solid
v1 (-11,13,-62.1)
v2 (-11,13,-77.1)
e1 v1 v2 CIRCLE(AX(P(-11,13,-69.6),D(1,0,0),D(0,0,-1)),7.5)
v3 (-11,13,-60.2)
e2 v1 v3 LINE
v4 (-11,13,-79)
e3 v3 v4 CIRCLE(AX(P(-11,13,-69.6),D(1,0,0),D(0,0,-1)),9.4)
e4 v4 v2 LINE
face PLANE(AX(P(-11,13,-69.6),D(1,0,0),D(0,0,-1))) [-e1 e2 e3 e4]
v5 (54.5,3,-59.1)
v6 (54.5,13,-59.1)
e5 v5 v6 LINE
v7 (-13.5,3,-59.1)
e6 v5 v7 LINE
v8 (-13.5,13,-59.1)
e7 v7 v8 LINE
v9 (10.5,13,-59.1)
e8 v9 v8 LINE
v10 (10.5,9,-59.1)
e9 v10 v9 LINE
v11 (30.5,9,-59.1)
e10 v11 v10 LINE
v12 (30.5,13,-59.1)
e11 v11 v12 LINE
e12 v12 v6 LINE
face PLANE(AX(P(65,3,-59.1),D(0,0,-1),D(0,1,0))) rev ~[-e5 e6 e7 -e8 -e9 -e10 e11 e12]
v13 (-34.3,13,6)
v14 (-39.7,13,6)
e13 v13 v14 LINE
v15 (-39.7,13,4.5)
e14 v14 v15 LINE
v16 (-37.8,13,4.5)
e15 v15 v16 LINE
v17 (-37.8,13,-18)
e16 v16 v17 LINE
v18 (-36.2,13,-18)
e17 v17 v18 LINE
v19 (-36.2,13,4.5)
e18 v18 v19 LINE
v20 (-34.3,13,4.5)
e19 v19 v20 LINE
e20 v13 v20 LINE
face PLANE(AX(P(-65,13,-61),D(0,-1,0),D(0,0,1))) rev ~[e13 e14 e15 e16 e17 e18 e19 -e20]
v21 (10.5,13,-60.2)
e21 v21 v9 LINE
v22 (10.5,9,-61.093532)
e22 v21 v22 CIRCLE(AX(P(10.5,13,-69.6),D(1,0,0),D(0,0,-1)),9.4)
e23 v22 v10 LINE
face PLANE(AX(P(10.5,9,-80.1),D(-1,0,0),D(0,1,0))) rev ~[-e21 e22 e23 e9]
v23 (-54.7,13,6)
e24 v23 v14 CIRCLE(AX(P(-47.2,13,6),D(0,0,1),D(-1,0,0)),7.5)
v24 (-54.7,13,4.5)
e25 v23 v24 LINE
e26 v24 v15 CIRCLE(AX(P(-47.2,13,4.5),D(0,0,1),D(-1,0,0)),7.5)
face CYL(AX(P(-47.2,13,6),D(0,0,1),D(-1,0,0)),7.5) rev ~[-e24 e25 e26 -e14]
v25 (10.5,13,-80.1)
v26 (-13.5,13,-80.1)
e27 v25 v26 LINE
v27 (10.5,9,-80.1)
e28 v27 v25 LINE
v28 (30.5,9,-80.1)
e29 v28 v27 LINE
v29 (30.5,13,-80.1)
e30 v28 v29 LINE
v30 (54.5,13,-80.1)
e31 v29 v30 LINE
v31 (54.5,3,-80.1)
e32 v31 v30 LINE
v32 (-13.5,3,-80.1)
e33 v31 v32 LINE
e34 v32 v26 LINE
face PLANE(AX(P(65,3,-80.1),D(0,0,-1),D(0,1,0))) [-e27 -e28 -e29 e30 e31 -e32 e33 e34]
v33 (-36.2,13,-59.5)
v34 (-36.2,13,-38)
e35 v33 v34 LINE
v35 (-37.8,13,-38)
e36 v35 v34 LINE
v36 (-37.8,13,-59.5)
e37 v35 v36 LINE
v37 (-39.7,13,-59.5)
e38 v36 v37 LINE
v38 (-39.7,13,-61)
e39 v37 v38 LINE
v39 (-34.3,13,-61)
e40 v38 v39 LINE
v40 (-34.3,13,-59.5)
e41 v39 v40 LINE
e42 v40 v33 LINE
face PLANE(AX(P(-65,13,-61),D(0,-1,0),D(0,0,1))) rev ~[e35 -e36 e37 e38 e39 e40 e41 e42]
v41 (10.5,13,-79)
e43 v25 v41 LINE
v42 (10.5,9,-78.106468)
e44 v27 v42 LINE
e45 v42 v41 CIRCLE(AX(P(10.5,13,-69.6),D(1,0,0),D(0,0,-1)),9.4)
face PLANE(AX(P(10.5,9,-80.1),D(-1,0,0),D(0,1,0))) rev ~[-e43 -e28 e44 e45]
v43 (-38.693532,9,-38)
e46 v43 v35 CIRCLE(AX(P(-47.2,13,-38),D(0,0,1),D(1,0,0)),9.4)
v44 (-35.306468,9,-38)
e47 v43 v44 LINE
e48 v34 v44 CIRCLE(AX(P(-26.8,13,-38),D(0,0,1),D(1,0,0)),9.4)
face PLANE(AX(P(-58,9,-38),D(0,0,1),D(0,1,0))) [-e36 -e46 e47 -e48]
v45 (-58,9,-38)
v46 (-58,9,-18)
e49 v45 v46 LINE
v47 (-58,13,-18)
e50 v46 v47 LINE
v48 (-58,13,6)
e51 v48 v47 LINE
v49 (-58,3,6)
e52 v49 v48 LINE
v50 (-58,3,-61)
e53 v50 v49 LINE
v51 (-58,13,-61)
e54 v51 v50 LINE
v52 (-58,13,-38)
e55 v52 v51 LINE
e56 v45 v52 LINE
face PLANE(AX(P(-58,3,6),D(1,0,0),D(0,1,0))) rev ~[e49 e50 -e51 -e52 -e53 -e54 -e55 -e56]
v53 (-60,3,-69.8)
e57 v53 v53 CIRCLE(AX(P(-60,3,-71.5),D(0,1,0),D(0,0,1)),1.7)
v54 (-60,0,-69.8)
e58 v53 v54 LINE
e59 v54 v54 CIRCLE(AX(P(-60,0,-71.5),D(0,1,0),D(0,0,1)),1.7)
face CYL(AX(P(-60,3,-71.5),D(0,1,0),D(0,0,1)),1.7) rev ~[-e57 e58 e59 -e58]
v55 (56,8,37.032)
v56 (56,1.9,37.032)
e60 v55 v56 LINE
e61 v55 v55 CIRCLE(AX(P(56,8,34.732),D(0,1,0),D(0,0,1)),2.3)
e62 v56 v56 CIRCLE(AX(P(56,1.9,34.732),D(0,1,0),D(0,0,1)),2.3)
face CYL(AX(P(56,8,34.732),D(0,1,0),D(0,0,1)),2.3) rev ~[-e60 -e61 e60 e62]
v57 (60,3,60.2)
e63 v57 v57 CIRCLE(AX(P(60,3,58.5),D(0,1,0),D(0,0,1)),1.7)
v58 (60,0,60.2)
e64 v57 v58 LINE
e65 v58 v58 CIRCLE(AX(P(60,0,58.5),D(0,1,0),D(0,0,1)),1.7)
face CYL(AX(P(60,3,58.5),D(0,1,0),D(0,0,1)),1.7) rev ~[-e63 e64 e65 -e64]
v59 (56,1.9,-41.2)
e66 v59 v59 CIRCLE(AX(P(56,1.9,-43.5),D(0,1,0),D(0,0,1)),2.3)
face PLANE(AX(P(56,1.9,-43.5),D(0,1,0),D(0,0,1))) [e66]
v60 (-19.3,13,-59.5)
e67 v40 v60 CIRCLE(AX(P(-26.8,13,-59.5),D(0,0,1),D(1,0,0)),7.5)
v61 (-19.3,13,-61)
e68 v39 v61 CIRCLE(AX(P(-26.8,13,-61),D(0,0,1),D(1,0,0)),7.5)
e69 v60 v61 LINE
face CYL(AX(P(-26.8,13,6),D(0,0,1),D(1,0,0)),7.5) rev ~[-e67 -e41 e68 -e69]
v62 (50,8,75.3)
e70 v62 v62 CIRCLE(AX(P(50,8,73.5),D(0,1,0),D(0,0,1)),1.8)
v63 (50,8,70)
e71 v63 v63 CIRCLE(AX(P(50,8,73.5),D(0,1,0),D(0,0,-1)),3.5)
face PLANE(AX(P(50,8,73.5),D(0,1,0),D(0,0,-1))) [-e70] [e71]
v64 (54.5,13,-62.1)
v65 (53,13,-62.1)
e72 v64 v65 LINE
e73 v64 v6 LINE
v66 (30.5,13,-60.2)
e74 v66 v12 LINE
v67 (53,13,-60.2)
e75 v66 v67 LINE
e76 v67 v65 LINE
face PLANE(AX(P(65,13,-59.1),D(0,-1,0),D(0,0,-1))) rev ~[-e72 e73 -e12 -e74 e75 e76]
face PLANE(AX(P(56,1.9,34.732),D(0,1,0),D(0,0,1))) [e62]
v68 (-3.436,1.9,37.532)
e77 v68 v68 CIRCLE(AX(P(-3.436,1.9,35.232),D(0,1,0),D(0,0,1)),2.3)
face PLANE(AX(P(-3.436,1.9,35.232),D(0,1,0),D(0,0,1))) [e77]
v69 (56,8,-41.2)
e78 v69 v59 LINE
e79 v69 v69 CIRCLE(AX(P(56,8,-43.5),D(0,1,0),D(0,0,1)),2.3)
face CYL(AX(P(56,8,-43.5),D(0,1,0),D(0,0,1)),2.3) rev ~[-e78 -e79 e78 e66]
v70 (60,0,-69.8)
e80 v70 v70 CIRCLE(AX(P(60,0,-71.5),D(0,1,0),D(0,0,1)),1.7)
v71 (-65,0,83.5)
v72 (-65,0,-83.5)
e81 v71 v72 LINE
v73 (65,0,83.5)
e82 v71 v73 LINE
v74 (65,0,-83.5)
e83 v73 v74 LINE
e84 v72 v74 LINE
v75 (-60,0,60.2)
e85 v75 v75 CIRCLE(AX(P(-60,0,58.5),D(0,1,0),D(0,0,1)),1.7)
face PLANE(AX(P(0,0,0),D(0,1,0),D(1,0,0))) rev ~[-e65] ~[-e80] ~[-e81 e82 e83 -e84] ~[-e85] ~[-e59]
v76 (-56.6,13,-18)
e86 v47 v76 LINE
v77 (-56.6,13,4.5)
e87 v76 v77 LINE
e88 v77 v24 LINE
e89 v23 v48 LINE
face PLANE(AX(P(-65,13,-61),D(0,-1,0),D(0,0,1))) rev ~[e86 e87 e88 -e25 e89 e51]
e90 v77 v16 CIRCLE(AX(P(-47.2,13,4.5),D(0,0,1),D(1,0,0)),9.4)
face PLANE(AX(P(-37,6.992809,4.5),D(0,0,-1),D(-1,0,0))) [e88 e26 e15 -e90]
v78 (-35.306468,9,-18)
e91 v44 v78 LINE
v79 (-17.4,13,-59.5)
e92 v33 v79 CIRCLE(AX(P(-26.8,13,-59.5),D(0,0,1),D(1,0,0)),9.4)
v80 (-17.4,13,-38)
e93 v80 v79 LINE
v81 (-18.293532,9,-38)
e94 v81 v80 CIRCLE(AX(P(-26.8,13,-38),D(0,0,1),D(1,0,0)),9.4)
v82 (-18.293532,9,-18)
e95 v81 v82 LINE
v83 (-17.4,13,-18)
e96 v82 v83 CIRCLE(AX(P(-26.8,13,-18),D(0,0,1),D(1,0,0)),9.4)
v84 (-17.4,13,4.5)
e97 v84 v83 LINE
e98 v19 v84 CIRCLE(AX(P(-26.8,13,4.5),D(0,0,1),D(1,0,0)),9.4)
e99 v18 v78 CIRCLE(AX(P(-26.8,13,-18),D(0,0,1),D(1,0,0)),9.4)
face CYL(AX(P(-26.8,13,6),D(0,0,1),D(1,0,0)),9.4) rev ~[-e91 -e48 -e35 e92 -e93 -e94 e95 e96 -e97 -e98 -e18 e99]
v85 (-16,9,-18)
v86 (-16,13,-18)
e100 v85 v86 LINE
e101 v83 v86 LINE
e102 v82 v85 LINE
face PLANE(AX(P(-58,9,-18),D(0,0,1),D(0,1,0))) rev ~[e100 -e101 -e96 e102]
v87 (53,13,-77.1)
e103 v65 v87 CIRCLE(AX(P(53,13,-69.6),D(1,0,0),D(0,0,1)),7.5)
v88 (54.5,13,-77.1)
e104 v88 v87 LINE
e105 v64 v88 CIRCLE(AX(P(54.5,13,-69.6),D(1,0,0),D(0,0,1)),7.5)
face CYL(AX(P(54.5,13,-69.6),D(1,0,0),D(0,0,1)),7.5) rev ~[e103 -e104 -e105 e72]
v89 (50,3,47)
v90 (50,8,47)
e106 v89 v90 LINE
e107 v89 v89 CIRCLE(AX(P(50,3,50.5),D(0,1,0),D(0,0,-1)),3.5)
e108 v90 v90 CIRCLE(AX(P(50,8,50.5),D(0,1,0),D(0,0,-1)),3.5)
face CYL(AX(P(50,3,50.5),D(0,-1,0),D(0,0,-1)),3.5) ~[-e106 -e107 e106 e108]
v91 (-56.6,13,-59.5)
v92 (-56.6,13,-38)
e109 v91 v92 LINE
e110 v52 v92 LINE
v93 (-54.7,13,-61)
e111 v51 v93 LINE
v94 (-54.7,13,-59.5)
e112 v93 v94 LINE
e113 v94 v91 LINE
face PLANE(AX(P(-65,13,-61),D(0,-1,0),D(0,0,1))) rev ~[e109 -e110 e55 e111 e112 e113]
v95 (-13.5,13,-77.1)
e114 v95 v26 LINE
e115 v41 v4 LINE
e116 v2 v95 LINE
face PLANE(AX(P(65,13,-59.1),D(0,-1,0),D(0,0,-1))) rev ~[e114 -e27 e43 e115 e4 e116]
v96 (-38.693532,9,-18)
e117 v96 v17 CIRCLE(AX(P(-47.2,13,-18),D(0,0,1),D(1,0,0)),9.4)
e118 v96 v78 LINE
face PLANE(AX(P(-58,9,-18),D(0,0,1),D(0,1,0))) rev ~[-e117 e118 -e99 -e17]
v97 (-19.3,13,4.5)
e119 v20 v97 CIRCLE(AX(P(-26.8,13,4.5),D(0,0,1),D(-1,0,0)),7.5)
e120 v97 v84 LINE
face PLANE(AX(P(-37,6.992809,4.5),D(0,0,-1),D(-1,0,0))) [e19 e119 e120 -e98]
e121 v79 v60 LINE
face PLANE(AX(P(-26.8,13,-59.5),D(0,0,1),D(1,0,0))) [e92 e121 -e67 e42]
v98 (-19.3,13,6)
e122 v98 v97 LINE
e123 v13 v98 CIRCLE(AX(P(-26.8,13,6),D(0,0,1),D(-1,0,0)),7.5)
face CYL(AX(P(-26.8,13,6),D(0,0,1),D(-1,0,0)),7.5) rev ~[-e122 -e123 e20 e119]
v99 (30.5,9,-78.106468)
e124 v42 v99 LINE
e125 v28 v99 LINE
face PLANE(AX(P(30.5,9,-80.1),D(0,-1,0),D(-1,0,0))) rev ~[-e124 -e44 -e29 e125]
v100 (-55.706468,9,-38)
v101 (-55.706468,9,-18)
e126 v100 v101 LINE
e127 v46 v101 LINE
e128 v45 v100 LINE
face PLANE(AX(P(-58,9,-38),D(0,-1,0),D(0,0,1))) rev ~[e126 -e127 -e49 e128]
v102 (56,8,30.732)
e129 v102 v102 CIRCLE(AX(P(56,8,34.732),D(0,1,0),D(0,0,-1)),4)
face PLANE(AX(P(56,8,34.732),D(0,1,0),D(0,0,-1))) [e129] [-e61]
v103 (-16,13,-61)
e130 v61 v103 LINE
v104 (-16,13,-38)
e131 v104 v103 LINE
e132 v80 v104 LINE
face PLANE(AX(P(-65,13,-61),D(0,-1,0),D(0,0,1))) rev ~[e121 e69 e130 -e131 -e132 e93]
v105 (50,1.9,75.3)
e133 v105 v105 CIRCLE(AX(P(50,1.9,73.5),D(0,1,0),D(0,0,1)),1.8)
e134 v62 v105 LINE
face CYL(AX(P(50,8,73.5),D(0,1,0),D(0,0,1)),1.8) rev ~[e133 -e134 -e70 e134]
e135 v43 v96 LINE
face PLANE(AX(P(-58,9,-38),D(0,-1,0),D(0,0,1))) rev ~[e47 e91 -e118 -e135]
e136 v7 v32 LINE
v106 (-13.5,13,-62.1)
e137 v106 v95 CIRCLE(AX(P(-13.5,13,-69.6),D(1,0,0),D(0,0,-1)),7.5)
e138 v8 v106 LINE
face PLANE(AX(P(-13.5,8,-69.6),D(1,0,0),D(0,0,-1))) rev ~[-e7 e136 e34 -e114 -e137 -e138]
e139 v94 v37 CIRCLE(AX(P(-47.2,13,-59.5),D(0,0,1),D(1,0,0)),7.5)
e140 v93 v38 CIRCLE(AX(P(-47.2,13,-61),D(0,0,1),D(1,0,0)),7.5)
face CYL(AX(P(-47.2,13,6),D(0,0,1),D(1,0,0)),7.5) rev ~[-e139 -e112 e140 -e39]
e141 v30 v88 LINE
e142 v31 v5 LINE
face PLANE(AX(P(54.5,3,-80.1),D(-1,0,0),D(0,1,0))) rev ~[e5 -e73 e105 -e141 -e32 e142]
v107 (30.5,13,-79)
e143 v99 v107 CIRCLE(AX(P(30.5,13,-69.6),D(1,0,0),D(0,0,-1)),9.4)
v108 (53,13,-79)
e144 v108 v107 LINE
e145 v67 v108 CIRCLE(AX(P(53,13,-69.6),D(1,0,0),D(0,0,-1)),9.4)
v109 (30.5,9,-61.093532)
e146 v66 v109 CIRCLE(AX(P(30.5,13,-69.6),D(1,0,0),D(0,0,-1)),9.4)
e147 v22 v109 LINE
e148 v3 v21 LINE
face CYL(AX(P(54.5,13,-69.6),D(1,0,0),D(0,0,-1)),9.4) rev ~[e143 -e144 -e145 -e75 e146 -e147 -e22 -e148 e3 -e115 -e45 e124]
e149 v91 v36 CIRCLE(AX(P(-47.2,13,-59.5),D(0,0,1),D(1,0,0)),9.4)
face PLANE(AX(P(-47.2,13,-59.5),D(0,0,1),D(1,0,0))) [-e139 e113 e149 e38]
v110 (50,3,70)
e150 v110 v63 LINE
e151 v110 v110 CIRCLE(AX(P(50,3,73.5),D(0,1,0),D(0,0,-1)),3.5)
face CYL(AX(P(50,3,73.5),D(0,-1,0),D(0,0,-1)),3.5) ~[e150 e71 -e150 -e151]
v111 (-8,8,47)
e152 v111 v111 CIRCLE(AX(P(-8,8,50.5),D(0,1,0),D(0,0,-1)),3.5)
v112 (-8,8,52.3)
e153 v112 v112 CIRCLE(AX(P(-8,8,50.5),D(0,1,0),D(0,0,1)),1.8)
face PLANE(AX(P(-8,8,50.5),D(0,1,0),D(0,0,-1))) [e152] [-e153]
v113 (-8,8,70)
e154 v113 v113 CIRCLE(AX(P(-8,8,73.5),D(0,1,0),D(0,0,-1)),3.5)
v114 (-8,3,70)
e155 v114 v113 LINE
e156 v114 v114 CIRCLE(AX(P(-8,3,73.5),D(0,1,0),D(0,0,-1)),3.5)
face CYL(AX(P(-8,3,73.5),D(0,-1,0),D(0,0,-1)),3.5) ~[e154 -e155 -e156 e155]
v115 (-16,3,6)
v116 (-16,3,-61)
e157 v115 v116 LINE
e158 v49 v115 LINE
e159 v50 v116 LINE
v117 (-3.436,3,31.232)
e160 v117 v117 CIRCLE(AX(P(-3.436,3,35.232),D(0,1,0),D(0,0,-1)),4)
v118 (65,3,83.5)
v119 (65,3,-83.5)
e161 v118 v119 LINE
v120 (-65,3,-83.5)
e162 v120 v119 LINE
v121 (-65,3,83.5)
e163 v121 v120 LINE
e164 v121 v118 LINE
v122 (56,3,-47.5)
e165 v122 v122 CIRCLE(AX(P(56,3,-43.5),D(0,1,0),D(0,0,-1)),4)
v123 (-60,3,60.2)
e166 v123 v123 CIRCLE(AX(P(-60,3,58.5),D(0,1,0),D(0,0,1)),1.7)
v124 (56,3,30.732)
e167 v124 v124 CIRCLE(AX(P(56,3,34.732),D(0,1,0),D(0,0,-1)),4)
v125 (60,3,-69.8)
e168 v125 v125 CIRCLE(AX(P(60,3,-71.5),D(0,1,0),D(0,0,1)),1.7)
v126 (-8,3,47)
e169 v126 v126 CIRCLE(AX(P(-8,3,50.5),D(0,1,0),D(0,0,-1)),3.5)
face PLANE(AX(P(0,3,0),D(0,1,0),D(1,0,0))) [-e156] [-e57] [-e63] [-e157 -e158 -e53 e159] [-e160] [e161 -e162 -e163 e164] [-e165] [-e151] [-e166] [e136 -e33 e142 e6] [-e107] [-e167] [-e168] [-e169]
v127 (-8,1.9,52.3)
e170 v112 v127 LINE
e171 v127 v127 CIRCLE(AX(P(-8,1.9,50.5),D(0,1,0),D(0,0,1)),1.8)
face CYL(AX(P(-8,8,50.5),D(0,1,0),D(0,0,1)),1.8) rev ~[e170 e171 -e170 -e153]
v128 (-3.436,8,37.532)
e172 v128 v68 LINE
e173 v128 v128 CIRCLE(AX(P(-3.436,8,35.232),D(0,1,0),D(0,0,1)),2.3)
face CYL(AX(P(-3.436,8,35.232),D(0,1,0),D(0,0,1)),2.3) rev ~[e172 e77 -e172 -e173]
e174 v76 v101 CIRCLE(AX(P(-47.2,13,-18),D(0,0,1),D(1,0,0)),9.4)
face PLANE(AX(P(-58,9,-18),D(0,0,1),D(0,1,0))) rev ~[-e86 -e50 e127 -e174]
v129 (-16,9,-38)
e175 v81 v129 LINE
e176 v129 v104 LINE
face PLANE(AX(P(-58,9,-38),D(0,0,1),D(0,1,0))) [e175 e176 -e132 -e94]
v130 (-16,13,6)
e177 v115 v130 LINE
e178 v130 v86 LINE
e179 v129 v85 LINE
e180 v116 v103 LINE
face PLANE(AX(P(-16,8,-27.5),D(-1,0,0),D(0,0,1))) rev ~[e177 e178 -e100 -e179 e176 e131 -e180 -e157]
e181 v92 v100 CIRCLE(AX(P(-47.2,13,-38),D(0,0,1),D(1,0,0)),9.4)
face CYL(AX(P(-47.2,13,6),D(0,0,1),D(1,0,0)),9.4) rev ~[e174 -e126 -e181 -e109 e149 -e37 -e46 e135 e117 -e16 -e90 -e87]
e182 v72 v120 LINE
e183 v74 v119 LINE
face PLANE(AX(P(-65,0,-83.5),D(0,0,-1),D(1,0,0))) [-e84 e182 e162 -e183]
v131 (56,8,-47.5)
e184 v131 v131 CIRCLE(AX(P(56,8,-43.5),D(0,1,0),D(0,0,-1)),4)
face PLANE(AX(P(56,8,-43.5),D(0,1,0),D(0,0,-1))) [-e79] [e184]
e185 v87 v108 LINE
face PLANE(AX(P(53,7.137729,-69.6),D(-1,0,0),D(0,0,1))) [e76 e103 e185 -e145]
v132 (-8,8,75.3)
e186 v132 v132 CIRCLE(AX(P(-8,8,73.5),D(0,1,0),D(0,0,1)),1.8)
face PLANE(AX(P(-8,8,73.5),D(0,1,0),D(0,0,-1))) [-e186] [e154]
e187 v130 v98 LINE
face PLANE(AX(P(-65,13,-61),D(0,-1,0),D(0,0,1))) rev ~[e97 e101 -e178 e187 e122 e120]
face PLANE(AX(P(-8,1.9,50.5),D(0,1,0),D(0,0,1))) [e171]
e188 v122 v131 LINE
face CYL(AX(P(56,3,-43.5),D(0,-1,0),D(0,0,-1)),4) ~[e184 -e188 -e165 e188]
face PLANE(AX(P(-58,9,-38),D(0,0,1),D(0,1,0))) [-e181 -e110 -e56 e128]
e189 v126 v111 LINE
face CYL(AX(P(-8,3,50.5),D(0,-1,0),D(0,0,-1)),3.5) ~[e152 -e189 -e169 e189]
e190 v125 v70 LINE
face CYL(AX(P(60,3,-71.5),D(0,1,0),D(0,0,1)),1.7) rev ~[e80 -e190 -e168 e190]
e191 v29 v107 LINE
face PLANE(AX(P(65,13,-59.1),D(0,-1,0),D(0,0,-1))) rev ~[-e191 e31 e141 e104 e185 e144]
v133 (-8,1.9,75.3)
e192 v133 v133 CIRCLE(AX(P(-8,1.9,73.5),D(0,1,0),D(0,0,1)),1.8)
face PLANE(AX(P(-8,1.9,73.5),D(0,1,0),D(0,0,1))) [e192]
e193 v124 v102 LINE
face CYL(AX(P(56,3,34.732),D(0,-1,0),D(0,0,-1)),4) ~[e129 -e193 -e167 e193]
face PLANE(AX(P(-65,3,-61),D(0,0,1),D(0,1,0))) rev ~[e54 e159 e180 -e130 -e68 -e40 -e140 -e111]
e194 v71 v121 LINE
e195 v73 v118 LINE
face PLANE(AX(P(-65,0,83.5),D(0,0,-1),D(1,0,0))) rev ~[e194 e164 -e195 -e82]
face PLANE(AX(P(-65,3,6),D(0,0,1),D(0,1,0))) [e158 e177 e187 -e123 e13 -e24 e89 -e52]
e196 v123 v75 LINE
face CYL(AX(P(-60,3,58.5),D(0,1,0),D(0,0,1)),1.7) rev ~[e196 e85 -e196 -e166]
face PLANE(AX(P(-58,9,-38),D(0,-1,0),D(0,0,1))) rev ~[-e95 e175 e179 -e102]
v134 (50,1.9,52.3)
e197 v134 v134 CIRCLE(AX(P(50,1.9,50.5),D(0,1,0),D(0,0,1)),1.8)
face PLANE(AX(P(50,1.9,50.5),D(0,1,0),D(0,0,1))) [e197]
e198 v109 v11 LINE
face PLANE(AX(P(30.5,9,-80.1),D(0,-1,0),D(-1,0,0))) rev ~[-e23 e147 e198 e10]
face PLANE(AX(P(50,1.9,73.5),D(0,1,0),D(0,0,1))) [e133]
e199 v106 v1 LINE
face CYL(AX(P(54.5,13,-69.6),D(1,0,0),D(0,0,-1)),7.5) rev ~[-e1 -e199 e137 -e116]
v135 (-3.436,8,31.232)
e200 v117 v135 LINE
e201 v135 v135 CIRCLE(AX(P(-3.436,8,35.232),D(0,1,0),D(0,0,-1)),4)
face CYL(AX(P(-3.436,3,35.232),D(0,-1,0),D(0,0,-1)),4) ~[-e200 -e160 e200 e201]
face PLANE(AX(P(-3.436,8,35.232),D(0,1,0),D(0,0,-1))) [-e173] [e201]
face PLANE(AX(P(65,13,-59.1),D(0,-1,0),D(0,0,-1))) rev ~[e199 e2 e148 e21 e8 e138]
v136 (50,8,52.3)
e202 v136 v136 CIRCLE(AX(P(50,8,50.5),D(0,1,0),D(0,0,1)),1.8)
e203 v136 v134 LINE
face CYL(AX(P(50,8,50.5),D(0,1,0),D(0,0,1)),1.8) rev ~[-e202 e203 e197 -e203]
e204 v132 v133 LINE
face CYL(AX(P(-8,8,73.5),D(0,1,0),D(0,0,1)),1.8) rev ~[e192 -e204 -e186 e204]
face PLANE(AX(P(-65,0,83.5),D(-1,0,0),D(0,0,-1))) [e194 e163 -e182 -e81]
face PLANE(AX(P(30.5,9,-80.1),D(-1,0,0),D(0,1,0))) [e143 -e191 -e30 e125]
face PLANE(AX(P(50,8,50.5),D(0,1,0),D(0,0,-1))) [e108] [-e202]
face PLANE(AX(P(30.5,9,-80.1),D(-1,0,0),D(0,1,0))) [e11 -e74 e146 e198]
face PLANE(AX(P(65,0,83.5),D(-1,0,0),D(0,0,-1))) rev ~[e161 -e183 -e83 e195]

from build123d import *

# Parameters (mm, degrees)
ESQUISSE1_W              = 130
ESQUISSE1_H              = 167
BOSS_EXTRU_1_DEPTH       = 3
ESQUISSE6_R              = 3.5
ESQUISSE6_R_2            = 4
BOSS_EXTRU_3_DEPTH       = 5
ESQUISSE11_W             = 67
ESQUISSE11_H             = 10
BOSS_EXTRU_6_DEPTH       = 49
ENL_V_MAT_EXTRU_3_REACH  = 113.374
ESQUISSE12_R             = 7.5
ESQUISSE12_W             = 7
ESQUISSE12_H             = 10
ESQUISSE13_R             = 9.4
ENL_V_MAT_EXTRU_4_DEPTH  = 65.5
BOSS_EXTRU_7_DEPTH       = 1.5
ESQUISSE15_W             = 20
ESQUISSE15_H             = 4
ENL_V_MAT_EXTRU_5_DEPTH  = 43.7
ESQUISSE16_W             = 21
ESQUISSE16_H             = 10
BOSS_EXTRU_8_DEPTH       = 78.5
ESQUISSE17_W             = 10.5
ESQUISSE17_H             = 10
ESQUISSE17_W_2           = 20
ESQUISSE17_H_2           = 4
ENL_V_MAT_EXTRU_6_DEPTH  = 24.2
ENL_V_MAT_EXTRU_7_REACH  = 148.361
ESQUISSE18_R             = 7.5
ESQUISSE19_R             = 9.4
ENL_V_MAT_EXTRU_8_DEPTH  = 65.5
BOSS_EXTRU_9_DEPTH       = 1.5
ESQUISSE21_R             = 2.3
ESQUISSE21_R_2           = 1.8
ENL_V_MAT_EXTRU_9_DEPTH  = 6.1
ESQUISSE22_R             = 1.7
ENL_V_MAT_EXTRU_10_DEPTH = 107.288522428


with BuildPart() as part:
    # Esquisse1 → Boss.-Extru.1 (new body)
    with BuildSketch(Plane(origin=(0, 0, 0), x_dir=(1, 0, 0), z_dir=(0, 1, 0))):
        Rectangle(ESQUISSE1_W, ESQUISSE1_H)
    extrude(amount=BOSS_EXTRU_1_DEPTH)

    # Esquisse6 → Boss.-Extru.3 (add)
    with BuildSketch(Plane(origin=(0, 3, 0), x_dir=(1, 0, 0), z_dir=(0, 1, 0))):
        with Locations(Location((-8, -73.5, 0), (0, 0, 90))):
            Circle(ESQUISSE6_R)
        with Locations(Location((-8, -50.5, 0), (0, 0, 90))):
            Circle(ESQUISSE6_R)
        with Locations(Location((50, -50.5, 0), (0, 0, 90))):
            Circle(ESQUISSE6_R)
        with Locations(Location((50, -73.5, 0), (0, 0, 90))):
            Circle(ESQUISSE6_R)
        with Locations(Location((56, 43.5, 0), (0, 0, 90))):
            Circle(ESQUISSE6_R_2)
        with Locations(Location((56, -34.732, 0), (0, 0, 90))):
            Circle(ESQUISSE6_R_2)
        with Locations(Location((-3.436, -35.232, 0), (0, 0, 90))):
            Circle(ESQUISSE6_R_2)
    extrude(amount=BOSS_EXTRU_3_DEPTH)

    # Esquisse11 → Boss.-Extru.6 (add)
    with BuildSketch(Plane.ZY.offset(65)):
        with Locations((-27.5, 8)):
            Rectangle(ESQUISSE11_W, ESQUISSE11_H)
    extrude(amount=-BOSS_EXTRU_6_DEPTH)

    # Esquisse12 → Enlèv. mat.-Extru.3 (cut, up to next)
    with BuildSketch(Plane.XY.offset(6), mode=Mode.PRIVATE) as enl_v_mat_extru_3_sk1:
        with Locations((-47.2, 13)):
            Circle(ESQUISSE12_R)
    enl_v_mat_extru_3_tool1 = extrude(enl_v_mat_extru_3_sk1.sketch, amount=-ENL_V_MAT_EXTRU_3_REACH, mode=Mode.PRIVATE) & part.part
    # Esquisse12 → Enlèv. mat.-Extru.3 (cut, up to next)
    with BuildSketch(Plane.XY.offset(6), mode=Mode.PRIVATE) as enl_v_mat_extru_3_sk2:
        with Locations((-26.8, 13)):
            Circle(ESQUISSE12_R)
    enl_v_mat_extru_3_tool2 = extrude(enl_v_mat_extru_3_sk2.sketch, amount=-ENL_V_MAT_EXTRU_3_REACH, mode=Mode.PRIVATE) & part.part
    # Esquisse12 → Enlèv. mat.-Extru.3 (cut, up to next)
    with BuildSketch(Plane.XY.offset(6), mode=Mode.PRIVATE) as enl_v_mat_extru_3_sk3:
        with Locations((-61.5, 8)):
            Rectangle(ESQUISSE12_W, ESQUISSE12_H)
    enl_v_mat_extru_3_tool3 = extrude(enl_v_mat_extru_3_sk3.sketch, amount=-ENL_V_MAT_EXTRU_3_REACH, mode=Mode.PRIVATE) & part.part
    add(enl_v_mat_extru_3_tool1.solids().sort_by_distance((-47.2, 13, 6))[0], mode=Mode.SUBTRACT)
    add(enl_v_mat_extru_3_tool2.solids().sort_by_distance((-26.8, 13, 6))[0], mode=Mode.SUBTRACT)
    add(enl_v_mat_extru_3_tool3.solids().sort_by_distance((-61.5, 8, 6))[0], mode=Mode.SUBTRACT)

    # Esquisse13 → Enlèv. mat.-Extru.4 (cut)
    with BuildSketch(Plane.XY.offset(6)):
        with Locations((-47.2, 13)):
            Circle(ESQUISSE13_R)
        with Locations((-26.8, 13)):
            Circle(ESQUISSE13_R)
    extrude(amount=-ENL_V_MAT_EXTRU_4_DEPTH, mode=Mode.SUBTRACT)

    # Esquisse14 → Boss.-Extru.7 (add)
    with BuildSketch(Plane.XY.offset(6)):
        with BuildLine():
            Line((-58, 13), (-54.7, 13))
            ThreePointArc((-54.7, 13), (-47.2, 5.5), (-39.7, 13))
            Line((-39.7, 13), (-34.3, 13))
            ThreePointArc((-34.3, 13), (-26.8, 5.5), (-19.3, 13))
            Line((-19.3, 13), (-16, 13))
            Line((-16, 13), (-16, 3))
            Line((-16, 3), (-58, 3))
            Line((-58, 3), (-58, 13))
        make_face()
    extrude(amount=-BOSS_EXTRU_7_DEPTH)

    # Esquisse15 → Enlèv. mat.-Extru.5 (cut)
    with BuildSketch(Plane.ZY.offset(58)):
        with Locations((-28, 11)):
            Rectangle(ESQUISSE15_W, ESQUISSE15_H)
    extrude(amount=-ENL_V_MAT_EXTRU_5_DEPTH, mode=Mode.SUBTRACT)

    # Esquisse16 → Boss.-Extru.8 (add)
    with BuildSketch(Plane(origin=(65, 0, 0), x_dir=(0, 0, -1), z_dir=(1, 0, 0))):
        with Locations((69.6, 8)):
            Rectangle(ESQUISSE16_W, ESQUISSE16_H)
    extrude(amount=-BOSS_EXTRU_8_DEPTH)

    # Esquisse17 → Enlèv. mat.-Extru.6 (cut)
    with BuildSketch(Plane(origin=(0, 0, -80.1), x_dir=(-1, 0, 0), z_dir=(0, 0, -1))):
        with Locations((-59.75, 8)):
            Rectangle(ESQUISSE17_W, ESQUISSE17_H)
        with Locations((-20.5, 11)):
            Rectangle(ESQUISSE17_W_2, ESQUISSE17_H_2)
    extrude(amount=-ENL_V_MAT_EXTRU_6_DEPTH, mode=Mode.SUBTRACT)

    # Esquisse18 → Enlèv. mat.-Extru.7 (cut, up to next)
    with BuildSketch(Plane(origin=(54.5, 0, 0), x_dir=(0, 0, -1), z_dir=(1, 0, 0)), mode=Mode.PRIVATE) as enl_v_mat_extru_7_sk1:
        with Locations((69.6, 13)):
            Circle(ESQUISSE18_R)
    enl_v_mat_extru_7_tool1 = extrude(enl_v_mat_extru_7_sk1.sketch, amount=-ENL_V_MAT_EXTRU_7_REACH, mode=Mode.PRIVATE) & part.part
    add(enl_v_mat_extru_7_tool1.solids().sort_by_distance((54.5, 13, -69.6))[0], mode=Mode.SUBTRACT)

    # Esquisse19 → Enlèv. mat.-Extru.8 (cut)
    with BuildSketch(Plane(origin=(54.5, 0, 0), x_dir=(0, 0, -1), z_dir=(1, 0, 0))):
        with Locations((69.6, 13)):
            Circle(ESQUISSE19_R)
    extrude(amount=-ENL_V_MAT_EXTRU_8_DEPTH, mode=Mode.SUBTRACT)

    # Esquisse20 → Boss.-Extru.9 (add)
    with BuildSketch(Plane(origin=(54.5, 0, 0), x_dir=(0, 0, -1), z_dir=(1, 0, 0))):
        with BuildLine():
            Line((59.1, 13), (62.1, 13))
            ThreePointArc((62.1, 13), (69.6, 5.5), (77.1, 13))
            Line((77.1, 13), (80.1, 13))
            Line((80.1, 13), (80.1, 3))
            Line((80.1, 3), (59.1, 3))
            Line((59.1, 3), (59.1, 13))
        make_face()
    extrude(amount=-BOSS_EXTRU_9_DEPTH)

    # Esquisse21 → Enlèv. mat.-Extru.9 (cut)
    with BuildSketch(Plane(origin=(0, 8, 0), x_dir=(1, 0, 0), z_dir=(0, 1, 0))):
        with Locations(Location((56, 43.5, 0), (0, 0, 270))):
            Circle(ESQUISSE21_R)
        with Locations(Location((56, -34.732, 0), (0, 0, 270))):
            Circle(ESQUISSE21_R)
        with Locations(Location((-3.436, -35.232, 0), (0, 0, 270))):
            Circle(ESQUISSE21_R)
        with Locations(Location((50, -50.5, 0), (0, 0, 270))):
            Circle(ESQUISSE21_R_2)
        with Locations(Location((50, -73.5, 0), (0, 0, 270))):
            Circle(ESQUISSE21_R_2)
        with Locations(Location((-8, -50.5, 0), (0, 0, 270))):
            Circle(ESQUISSE21_R_2)
        with Locations(Location((-8, -73.5, 0), (0, 0, 270))):
            Circle(ESQUISSE21_R_2)
    extrude(amount=-ENL_V_MAT_EXTRU_9_DEPTH, mode=Mode.SUBTRACT)

    # Esquisse22 → Enlèv. mat.-Extru.10 (cut, through all)
    with BuildSketch(Plane(origin=(0, 3, 0), x_dir=(1, 0, 0), z_dir=(0, 1, 0))):
        with Locations(Location((-60, 71.5, 0), (0, 0, 270))):
            Circle(ESQUISSE22_R)
        with Locations(Location((60, 71.5, 0), (0, 0, 270))):
            Circle(ESQUISSE22_R)
        with Locations(Location((60, -58.5, 0), (0, 0, 270))):
            Circle(ESQUISSE22_R)
        with Locations(Location((-60, -58.5, 0), (0, 0, 270))):
            Circle(ESQUISSE22_R)
    extrude(amount=-ENL_V_MAT_EXTRU_10_DEPTH, mode=Mode.SUBTRACT)


solid = part.part
